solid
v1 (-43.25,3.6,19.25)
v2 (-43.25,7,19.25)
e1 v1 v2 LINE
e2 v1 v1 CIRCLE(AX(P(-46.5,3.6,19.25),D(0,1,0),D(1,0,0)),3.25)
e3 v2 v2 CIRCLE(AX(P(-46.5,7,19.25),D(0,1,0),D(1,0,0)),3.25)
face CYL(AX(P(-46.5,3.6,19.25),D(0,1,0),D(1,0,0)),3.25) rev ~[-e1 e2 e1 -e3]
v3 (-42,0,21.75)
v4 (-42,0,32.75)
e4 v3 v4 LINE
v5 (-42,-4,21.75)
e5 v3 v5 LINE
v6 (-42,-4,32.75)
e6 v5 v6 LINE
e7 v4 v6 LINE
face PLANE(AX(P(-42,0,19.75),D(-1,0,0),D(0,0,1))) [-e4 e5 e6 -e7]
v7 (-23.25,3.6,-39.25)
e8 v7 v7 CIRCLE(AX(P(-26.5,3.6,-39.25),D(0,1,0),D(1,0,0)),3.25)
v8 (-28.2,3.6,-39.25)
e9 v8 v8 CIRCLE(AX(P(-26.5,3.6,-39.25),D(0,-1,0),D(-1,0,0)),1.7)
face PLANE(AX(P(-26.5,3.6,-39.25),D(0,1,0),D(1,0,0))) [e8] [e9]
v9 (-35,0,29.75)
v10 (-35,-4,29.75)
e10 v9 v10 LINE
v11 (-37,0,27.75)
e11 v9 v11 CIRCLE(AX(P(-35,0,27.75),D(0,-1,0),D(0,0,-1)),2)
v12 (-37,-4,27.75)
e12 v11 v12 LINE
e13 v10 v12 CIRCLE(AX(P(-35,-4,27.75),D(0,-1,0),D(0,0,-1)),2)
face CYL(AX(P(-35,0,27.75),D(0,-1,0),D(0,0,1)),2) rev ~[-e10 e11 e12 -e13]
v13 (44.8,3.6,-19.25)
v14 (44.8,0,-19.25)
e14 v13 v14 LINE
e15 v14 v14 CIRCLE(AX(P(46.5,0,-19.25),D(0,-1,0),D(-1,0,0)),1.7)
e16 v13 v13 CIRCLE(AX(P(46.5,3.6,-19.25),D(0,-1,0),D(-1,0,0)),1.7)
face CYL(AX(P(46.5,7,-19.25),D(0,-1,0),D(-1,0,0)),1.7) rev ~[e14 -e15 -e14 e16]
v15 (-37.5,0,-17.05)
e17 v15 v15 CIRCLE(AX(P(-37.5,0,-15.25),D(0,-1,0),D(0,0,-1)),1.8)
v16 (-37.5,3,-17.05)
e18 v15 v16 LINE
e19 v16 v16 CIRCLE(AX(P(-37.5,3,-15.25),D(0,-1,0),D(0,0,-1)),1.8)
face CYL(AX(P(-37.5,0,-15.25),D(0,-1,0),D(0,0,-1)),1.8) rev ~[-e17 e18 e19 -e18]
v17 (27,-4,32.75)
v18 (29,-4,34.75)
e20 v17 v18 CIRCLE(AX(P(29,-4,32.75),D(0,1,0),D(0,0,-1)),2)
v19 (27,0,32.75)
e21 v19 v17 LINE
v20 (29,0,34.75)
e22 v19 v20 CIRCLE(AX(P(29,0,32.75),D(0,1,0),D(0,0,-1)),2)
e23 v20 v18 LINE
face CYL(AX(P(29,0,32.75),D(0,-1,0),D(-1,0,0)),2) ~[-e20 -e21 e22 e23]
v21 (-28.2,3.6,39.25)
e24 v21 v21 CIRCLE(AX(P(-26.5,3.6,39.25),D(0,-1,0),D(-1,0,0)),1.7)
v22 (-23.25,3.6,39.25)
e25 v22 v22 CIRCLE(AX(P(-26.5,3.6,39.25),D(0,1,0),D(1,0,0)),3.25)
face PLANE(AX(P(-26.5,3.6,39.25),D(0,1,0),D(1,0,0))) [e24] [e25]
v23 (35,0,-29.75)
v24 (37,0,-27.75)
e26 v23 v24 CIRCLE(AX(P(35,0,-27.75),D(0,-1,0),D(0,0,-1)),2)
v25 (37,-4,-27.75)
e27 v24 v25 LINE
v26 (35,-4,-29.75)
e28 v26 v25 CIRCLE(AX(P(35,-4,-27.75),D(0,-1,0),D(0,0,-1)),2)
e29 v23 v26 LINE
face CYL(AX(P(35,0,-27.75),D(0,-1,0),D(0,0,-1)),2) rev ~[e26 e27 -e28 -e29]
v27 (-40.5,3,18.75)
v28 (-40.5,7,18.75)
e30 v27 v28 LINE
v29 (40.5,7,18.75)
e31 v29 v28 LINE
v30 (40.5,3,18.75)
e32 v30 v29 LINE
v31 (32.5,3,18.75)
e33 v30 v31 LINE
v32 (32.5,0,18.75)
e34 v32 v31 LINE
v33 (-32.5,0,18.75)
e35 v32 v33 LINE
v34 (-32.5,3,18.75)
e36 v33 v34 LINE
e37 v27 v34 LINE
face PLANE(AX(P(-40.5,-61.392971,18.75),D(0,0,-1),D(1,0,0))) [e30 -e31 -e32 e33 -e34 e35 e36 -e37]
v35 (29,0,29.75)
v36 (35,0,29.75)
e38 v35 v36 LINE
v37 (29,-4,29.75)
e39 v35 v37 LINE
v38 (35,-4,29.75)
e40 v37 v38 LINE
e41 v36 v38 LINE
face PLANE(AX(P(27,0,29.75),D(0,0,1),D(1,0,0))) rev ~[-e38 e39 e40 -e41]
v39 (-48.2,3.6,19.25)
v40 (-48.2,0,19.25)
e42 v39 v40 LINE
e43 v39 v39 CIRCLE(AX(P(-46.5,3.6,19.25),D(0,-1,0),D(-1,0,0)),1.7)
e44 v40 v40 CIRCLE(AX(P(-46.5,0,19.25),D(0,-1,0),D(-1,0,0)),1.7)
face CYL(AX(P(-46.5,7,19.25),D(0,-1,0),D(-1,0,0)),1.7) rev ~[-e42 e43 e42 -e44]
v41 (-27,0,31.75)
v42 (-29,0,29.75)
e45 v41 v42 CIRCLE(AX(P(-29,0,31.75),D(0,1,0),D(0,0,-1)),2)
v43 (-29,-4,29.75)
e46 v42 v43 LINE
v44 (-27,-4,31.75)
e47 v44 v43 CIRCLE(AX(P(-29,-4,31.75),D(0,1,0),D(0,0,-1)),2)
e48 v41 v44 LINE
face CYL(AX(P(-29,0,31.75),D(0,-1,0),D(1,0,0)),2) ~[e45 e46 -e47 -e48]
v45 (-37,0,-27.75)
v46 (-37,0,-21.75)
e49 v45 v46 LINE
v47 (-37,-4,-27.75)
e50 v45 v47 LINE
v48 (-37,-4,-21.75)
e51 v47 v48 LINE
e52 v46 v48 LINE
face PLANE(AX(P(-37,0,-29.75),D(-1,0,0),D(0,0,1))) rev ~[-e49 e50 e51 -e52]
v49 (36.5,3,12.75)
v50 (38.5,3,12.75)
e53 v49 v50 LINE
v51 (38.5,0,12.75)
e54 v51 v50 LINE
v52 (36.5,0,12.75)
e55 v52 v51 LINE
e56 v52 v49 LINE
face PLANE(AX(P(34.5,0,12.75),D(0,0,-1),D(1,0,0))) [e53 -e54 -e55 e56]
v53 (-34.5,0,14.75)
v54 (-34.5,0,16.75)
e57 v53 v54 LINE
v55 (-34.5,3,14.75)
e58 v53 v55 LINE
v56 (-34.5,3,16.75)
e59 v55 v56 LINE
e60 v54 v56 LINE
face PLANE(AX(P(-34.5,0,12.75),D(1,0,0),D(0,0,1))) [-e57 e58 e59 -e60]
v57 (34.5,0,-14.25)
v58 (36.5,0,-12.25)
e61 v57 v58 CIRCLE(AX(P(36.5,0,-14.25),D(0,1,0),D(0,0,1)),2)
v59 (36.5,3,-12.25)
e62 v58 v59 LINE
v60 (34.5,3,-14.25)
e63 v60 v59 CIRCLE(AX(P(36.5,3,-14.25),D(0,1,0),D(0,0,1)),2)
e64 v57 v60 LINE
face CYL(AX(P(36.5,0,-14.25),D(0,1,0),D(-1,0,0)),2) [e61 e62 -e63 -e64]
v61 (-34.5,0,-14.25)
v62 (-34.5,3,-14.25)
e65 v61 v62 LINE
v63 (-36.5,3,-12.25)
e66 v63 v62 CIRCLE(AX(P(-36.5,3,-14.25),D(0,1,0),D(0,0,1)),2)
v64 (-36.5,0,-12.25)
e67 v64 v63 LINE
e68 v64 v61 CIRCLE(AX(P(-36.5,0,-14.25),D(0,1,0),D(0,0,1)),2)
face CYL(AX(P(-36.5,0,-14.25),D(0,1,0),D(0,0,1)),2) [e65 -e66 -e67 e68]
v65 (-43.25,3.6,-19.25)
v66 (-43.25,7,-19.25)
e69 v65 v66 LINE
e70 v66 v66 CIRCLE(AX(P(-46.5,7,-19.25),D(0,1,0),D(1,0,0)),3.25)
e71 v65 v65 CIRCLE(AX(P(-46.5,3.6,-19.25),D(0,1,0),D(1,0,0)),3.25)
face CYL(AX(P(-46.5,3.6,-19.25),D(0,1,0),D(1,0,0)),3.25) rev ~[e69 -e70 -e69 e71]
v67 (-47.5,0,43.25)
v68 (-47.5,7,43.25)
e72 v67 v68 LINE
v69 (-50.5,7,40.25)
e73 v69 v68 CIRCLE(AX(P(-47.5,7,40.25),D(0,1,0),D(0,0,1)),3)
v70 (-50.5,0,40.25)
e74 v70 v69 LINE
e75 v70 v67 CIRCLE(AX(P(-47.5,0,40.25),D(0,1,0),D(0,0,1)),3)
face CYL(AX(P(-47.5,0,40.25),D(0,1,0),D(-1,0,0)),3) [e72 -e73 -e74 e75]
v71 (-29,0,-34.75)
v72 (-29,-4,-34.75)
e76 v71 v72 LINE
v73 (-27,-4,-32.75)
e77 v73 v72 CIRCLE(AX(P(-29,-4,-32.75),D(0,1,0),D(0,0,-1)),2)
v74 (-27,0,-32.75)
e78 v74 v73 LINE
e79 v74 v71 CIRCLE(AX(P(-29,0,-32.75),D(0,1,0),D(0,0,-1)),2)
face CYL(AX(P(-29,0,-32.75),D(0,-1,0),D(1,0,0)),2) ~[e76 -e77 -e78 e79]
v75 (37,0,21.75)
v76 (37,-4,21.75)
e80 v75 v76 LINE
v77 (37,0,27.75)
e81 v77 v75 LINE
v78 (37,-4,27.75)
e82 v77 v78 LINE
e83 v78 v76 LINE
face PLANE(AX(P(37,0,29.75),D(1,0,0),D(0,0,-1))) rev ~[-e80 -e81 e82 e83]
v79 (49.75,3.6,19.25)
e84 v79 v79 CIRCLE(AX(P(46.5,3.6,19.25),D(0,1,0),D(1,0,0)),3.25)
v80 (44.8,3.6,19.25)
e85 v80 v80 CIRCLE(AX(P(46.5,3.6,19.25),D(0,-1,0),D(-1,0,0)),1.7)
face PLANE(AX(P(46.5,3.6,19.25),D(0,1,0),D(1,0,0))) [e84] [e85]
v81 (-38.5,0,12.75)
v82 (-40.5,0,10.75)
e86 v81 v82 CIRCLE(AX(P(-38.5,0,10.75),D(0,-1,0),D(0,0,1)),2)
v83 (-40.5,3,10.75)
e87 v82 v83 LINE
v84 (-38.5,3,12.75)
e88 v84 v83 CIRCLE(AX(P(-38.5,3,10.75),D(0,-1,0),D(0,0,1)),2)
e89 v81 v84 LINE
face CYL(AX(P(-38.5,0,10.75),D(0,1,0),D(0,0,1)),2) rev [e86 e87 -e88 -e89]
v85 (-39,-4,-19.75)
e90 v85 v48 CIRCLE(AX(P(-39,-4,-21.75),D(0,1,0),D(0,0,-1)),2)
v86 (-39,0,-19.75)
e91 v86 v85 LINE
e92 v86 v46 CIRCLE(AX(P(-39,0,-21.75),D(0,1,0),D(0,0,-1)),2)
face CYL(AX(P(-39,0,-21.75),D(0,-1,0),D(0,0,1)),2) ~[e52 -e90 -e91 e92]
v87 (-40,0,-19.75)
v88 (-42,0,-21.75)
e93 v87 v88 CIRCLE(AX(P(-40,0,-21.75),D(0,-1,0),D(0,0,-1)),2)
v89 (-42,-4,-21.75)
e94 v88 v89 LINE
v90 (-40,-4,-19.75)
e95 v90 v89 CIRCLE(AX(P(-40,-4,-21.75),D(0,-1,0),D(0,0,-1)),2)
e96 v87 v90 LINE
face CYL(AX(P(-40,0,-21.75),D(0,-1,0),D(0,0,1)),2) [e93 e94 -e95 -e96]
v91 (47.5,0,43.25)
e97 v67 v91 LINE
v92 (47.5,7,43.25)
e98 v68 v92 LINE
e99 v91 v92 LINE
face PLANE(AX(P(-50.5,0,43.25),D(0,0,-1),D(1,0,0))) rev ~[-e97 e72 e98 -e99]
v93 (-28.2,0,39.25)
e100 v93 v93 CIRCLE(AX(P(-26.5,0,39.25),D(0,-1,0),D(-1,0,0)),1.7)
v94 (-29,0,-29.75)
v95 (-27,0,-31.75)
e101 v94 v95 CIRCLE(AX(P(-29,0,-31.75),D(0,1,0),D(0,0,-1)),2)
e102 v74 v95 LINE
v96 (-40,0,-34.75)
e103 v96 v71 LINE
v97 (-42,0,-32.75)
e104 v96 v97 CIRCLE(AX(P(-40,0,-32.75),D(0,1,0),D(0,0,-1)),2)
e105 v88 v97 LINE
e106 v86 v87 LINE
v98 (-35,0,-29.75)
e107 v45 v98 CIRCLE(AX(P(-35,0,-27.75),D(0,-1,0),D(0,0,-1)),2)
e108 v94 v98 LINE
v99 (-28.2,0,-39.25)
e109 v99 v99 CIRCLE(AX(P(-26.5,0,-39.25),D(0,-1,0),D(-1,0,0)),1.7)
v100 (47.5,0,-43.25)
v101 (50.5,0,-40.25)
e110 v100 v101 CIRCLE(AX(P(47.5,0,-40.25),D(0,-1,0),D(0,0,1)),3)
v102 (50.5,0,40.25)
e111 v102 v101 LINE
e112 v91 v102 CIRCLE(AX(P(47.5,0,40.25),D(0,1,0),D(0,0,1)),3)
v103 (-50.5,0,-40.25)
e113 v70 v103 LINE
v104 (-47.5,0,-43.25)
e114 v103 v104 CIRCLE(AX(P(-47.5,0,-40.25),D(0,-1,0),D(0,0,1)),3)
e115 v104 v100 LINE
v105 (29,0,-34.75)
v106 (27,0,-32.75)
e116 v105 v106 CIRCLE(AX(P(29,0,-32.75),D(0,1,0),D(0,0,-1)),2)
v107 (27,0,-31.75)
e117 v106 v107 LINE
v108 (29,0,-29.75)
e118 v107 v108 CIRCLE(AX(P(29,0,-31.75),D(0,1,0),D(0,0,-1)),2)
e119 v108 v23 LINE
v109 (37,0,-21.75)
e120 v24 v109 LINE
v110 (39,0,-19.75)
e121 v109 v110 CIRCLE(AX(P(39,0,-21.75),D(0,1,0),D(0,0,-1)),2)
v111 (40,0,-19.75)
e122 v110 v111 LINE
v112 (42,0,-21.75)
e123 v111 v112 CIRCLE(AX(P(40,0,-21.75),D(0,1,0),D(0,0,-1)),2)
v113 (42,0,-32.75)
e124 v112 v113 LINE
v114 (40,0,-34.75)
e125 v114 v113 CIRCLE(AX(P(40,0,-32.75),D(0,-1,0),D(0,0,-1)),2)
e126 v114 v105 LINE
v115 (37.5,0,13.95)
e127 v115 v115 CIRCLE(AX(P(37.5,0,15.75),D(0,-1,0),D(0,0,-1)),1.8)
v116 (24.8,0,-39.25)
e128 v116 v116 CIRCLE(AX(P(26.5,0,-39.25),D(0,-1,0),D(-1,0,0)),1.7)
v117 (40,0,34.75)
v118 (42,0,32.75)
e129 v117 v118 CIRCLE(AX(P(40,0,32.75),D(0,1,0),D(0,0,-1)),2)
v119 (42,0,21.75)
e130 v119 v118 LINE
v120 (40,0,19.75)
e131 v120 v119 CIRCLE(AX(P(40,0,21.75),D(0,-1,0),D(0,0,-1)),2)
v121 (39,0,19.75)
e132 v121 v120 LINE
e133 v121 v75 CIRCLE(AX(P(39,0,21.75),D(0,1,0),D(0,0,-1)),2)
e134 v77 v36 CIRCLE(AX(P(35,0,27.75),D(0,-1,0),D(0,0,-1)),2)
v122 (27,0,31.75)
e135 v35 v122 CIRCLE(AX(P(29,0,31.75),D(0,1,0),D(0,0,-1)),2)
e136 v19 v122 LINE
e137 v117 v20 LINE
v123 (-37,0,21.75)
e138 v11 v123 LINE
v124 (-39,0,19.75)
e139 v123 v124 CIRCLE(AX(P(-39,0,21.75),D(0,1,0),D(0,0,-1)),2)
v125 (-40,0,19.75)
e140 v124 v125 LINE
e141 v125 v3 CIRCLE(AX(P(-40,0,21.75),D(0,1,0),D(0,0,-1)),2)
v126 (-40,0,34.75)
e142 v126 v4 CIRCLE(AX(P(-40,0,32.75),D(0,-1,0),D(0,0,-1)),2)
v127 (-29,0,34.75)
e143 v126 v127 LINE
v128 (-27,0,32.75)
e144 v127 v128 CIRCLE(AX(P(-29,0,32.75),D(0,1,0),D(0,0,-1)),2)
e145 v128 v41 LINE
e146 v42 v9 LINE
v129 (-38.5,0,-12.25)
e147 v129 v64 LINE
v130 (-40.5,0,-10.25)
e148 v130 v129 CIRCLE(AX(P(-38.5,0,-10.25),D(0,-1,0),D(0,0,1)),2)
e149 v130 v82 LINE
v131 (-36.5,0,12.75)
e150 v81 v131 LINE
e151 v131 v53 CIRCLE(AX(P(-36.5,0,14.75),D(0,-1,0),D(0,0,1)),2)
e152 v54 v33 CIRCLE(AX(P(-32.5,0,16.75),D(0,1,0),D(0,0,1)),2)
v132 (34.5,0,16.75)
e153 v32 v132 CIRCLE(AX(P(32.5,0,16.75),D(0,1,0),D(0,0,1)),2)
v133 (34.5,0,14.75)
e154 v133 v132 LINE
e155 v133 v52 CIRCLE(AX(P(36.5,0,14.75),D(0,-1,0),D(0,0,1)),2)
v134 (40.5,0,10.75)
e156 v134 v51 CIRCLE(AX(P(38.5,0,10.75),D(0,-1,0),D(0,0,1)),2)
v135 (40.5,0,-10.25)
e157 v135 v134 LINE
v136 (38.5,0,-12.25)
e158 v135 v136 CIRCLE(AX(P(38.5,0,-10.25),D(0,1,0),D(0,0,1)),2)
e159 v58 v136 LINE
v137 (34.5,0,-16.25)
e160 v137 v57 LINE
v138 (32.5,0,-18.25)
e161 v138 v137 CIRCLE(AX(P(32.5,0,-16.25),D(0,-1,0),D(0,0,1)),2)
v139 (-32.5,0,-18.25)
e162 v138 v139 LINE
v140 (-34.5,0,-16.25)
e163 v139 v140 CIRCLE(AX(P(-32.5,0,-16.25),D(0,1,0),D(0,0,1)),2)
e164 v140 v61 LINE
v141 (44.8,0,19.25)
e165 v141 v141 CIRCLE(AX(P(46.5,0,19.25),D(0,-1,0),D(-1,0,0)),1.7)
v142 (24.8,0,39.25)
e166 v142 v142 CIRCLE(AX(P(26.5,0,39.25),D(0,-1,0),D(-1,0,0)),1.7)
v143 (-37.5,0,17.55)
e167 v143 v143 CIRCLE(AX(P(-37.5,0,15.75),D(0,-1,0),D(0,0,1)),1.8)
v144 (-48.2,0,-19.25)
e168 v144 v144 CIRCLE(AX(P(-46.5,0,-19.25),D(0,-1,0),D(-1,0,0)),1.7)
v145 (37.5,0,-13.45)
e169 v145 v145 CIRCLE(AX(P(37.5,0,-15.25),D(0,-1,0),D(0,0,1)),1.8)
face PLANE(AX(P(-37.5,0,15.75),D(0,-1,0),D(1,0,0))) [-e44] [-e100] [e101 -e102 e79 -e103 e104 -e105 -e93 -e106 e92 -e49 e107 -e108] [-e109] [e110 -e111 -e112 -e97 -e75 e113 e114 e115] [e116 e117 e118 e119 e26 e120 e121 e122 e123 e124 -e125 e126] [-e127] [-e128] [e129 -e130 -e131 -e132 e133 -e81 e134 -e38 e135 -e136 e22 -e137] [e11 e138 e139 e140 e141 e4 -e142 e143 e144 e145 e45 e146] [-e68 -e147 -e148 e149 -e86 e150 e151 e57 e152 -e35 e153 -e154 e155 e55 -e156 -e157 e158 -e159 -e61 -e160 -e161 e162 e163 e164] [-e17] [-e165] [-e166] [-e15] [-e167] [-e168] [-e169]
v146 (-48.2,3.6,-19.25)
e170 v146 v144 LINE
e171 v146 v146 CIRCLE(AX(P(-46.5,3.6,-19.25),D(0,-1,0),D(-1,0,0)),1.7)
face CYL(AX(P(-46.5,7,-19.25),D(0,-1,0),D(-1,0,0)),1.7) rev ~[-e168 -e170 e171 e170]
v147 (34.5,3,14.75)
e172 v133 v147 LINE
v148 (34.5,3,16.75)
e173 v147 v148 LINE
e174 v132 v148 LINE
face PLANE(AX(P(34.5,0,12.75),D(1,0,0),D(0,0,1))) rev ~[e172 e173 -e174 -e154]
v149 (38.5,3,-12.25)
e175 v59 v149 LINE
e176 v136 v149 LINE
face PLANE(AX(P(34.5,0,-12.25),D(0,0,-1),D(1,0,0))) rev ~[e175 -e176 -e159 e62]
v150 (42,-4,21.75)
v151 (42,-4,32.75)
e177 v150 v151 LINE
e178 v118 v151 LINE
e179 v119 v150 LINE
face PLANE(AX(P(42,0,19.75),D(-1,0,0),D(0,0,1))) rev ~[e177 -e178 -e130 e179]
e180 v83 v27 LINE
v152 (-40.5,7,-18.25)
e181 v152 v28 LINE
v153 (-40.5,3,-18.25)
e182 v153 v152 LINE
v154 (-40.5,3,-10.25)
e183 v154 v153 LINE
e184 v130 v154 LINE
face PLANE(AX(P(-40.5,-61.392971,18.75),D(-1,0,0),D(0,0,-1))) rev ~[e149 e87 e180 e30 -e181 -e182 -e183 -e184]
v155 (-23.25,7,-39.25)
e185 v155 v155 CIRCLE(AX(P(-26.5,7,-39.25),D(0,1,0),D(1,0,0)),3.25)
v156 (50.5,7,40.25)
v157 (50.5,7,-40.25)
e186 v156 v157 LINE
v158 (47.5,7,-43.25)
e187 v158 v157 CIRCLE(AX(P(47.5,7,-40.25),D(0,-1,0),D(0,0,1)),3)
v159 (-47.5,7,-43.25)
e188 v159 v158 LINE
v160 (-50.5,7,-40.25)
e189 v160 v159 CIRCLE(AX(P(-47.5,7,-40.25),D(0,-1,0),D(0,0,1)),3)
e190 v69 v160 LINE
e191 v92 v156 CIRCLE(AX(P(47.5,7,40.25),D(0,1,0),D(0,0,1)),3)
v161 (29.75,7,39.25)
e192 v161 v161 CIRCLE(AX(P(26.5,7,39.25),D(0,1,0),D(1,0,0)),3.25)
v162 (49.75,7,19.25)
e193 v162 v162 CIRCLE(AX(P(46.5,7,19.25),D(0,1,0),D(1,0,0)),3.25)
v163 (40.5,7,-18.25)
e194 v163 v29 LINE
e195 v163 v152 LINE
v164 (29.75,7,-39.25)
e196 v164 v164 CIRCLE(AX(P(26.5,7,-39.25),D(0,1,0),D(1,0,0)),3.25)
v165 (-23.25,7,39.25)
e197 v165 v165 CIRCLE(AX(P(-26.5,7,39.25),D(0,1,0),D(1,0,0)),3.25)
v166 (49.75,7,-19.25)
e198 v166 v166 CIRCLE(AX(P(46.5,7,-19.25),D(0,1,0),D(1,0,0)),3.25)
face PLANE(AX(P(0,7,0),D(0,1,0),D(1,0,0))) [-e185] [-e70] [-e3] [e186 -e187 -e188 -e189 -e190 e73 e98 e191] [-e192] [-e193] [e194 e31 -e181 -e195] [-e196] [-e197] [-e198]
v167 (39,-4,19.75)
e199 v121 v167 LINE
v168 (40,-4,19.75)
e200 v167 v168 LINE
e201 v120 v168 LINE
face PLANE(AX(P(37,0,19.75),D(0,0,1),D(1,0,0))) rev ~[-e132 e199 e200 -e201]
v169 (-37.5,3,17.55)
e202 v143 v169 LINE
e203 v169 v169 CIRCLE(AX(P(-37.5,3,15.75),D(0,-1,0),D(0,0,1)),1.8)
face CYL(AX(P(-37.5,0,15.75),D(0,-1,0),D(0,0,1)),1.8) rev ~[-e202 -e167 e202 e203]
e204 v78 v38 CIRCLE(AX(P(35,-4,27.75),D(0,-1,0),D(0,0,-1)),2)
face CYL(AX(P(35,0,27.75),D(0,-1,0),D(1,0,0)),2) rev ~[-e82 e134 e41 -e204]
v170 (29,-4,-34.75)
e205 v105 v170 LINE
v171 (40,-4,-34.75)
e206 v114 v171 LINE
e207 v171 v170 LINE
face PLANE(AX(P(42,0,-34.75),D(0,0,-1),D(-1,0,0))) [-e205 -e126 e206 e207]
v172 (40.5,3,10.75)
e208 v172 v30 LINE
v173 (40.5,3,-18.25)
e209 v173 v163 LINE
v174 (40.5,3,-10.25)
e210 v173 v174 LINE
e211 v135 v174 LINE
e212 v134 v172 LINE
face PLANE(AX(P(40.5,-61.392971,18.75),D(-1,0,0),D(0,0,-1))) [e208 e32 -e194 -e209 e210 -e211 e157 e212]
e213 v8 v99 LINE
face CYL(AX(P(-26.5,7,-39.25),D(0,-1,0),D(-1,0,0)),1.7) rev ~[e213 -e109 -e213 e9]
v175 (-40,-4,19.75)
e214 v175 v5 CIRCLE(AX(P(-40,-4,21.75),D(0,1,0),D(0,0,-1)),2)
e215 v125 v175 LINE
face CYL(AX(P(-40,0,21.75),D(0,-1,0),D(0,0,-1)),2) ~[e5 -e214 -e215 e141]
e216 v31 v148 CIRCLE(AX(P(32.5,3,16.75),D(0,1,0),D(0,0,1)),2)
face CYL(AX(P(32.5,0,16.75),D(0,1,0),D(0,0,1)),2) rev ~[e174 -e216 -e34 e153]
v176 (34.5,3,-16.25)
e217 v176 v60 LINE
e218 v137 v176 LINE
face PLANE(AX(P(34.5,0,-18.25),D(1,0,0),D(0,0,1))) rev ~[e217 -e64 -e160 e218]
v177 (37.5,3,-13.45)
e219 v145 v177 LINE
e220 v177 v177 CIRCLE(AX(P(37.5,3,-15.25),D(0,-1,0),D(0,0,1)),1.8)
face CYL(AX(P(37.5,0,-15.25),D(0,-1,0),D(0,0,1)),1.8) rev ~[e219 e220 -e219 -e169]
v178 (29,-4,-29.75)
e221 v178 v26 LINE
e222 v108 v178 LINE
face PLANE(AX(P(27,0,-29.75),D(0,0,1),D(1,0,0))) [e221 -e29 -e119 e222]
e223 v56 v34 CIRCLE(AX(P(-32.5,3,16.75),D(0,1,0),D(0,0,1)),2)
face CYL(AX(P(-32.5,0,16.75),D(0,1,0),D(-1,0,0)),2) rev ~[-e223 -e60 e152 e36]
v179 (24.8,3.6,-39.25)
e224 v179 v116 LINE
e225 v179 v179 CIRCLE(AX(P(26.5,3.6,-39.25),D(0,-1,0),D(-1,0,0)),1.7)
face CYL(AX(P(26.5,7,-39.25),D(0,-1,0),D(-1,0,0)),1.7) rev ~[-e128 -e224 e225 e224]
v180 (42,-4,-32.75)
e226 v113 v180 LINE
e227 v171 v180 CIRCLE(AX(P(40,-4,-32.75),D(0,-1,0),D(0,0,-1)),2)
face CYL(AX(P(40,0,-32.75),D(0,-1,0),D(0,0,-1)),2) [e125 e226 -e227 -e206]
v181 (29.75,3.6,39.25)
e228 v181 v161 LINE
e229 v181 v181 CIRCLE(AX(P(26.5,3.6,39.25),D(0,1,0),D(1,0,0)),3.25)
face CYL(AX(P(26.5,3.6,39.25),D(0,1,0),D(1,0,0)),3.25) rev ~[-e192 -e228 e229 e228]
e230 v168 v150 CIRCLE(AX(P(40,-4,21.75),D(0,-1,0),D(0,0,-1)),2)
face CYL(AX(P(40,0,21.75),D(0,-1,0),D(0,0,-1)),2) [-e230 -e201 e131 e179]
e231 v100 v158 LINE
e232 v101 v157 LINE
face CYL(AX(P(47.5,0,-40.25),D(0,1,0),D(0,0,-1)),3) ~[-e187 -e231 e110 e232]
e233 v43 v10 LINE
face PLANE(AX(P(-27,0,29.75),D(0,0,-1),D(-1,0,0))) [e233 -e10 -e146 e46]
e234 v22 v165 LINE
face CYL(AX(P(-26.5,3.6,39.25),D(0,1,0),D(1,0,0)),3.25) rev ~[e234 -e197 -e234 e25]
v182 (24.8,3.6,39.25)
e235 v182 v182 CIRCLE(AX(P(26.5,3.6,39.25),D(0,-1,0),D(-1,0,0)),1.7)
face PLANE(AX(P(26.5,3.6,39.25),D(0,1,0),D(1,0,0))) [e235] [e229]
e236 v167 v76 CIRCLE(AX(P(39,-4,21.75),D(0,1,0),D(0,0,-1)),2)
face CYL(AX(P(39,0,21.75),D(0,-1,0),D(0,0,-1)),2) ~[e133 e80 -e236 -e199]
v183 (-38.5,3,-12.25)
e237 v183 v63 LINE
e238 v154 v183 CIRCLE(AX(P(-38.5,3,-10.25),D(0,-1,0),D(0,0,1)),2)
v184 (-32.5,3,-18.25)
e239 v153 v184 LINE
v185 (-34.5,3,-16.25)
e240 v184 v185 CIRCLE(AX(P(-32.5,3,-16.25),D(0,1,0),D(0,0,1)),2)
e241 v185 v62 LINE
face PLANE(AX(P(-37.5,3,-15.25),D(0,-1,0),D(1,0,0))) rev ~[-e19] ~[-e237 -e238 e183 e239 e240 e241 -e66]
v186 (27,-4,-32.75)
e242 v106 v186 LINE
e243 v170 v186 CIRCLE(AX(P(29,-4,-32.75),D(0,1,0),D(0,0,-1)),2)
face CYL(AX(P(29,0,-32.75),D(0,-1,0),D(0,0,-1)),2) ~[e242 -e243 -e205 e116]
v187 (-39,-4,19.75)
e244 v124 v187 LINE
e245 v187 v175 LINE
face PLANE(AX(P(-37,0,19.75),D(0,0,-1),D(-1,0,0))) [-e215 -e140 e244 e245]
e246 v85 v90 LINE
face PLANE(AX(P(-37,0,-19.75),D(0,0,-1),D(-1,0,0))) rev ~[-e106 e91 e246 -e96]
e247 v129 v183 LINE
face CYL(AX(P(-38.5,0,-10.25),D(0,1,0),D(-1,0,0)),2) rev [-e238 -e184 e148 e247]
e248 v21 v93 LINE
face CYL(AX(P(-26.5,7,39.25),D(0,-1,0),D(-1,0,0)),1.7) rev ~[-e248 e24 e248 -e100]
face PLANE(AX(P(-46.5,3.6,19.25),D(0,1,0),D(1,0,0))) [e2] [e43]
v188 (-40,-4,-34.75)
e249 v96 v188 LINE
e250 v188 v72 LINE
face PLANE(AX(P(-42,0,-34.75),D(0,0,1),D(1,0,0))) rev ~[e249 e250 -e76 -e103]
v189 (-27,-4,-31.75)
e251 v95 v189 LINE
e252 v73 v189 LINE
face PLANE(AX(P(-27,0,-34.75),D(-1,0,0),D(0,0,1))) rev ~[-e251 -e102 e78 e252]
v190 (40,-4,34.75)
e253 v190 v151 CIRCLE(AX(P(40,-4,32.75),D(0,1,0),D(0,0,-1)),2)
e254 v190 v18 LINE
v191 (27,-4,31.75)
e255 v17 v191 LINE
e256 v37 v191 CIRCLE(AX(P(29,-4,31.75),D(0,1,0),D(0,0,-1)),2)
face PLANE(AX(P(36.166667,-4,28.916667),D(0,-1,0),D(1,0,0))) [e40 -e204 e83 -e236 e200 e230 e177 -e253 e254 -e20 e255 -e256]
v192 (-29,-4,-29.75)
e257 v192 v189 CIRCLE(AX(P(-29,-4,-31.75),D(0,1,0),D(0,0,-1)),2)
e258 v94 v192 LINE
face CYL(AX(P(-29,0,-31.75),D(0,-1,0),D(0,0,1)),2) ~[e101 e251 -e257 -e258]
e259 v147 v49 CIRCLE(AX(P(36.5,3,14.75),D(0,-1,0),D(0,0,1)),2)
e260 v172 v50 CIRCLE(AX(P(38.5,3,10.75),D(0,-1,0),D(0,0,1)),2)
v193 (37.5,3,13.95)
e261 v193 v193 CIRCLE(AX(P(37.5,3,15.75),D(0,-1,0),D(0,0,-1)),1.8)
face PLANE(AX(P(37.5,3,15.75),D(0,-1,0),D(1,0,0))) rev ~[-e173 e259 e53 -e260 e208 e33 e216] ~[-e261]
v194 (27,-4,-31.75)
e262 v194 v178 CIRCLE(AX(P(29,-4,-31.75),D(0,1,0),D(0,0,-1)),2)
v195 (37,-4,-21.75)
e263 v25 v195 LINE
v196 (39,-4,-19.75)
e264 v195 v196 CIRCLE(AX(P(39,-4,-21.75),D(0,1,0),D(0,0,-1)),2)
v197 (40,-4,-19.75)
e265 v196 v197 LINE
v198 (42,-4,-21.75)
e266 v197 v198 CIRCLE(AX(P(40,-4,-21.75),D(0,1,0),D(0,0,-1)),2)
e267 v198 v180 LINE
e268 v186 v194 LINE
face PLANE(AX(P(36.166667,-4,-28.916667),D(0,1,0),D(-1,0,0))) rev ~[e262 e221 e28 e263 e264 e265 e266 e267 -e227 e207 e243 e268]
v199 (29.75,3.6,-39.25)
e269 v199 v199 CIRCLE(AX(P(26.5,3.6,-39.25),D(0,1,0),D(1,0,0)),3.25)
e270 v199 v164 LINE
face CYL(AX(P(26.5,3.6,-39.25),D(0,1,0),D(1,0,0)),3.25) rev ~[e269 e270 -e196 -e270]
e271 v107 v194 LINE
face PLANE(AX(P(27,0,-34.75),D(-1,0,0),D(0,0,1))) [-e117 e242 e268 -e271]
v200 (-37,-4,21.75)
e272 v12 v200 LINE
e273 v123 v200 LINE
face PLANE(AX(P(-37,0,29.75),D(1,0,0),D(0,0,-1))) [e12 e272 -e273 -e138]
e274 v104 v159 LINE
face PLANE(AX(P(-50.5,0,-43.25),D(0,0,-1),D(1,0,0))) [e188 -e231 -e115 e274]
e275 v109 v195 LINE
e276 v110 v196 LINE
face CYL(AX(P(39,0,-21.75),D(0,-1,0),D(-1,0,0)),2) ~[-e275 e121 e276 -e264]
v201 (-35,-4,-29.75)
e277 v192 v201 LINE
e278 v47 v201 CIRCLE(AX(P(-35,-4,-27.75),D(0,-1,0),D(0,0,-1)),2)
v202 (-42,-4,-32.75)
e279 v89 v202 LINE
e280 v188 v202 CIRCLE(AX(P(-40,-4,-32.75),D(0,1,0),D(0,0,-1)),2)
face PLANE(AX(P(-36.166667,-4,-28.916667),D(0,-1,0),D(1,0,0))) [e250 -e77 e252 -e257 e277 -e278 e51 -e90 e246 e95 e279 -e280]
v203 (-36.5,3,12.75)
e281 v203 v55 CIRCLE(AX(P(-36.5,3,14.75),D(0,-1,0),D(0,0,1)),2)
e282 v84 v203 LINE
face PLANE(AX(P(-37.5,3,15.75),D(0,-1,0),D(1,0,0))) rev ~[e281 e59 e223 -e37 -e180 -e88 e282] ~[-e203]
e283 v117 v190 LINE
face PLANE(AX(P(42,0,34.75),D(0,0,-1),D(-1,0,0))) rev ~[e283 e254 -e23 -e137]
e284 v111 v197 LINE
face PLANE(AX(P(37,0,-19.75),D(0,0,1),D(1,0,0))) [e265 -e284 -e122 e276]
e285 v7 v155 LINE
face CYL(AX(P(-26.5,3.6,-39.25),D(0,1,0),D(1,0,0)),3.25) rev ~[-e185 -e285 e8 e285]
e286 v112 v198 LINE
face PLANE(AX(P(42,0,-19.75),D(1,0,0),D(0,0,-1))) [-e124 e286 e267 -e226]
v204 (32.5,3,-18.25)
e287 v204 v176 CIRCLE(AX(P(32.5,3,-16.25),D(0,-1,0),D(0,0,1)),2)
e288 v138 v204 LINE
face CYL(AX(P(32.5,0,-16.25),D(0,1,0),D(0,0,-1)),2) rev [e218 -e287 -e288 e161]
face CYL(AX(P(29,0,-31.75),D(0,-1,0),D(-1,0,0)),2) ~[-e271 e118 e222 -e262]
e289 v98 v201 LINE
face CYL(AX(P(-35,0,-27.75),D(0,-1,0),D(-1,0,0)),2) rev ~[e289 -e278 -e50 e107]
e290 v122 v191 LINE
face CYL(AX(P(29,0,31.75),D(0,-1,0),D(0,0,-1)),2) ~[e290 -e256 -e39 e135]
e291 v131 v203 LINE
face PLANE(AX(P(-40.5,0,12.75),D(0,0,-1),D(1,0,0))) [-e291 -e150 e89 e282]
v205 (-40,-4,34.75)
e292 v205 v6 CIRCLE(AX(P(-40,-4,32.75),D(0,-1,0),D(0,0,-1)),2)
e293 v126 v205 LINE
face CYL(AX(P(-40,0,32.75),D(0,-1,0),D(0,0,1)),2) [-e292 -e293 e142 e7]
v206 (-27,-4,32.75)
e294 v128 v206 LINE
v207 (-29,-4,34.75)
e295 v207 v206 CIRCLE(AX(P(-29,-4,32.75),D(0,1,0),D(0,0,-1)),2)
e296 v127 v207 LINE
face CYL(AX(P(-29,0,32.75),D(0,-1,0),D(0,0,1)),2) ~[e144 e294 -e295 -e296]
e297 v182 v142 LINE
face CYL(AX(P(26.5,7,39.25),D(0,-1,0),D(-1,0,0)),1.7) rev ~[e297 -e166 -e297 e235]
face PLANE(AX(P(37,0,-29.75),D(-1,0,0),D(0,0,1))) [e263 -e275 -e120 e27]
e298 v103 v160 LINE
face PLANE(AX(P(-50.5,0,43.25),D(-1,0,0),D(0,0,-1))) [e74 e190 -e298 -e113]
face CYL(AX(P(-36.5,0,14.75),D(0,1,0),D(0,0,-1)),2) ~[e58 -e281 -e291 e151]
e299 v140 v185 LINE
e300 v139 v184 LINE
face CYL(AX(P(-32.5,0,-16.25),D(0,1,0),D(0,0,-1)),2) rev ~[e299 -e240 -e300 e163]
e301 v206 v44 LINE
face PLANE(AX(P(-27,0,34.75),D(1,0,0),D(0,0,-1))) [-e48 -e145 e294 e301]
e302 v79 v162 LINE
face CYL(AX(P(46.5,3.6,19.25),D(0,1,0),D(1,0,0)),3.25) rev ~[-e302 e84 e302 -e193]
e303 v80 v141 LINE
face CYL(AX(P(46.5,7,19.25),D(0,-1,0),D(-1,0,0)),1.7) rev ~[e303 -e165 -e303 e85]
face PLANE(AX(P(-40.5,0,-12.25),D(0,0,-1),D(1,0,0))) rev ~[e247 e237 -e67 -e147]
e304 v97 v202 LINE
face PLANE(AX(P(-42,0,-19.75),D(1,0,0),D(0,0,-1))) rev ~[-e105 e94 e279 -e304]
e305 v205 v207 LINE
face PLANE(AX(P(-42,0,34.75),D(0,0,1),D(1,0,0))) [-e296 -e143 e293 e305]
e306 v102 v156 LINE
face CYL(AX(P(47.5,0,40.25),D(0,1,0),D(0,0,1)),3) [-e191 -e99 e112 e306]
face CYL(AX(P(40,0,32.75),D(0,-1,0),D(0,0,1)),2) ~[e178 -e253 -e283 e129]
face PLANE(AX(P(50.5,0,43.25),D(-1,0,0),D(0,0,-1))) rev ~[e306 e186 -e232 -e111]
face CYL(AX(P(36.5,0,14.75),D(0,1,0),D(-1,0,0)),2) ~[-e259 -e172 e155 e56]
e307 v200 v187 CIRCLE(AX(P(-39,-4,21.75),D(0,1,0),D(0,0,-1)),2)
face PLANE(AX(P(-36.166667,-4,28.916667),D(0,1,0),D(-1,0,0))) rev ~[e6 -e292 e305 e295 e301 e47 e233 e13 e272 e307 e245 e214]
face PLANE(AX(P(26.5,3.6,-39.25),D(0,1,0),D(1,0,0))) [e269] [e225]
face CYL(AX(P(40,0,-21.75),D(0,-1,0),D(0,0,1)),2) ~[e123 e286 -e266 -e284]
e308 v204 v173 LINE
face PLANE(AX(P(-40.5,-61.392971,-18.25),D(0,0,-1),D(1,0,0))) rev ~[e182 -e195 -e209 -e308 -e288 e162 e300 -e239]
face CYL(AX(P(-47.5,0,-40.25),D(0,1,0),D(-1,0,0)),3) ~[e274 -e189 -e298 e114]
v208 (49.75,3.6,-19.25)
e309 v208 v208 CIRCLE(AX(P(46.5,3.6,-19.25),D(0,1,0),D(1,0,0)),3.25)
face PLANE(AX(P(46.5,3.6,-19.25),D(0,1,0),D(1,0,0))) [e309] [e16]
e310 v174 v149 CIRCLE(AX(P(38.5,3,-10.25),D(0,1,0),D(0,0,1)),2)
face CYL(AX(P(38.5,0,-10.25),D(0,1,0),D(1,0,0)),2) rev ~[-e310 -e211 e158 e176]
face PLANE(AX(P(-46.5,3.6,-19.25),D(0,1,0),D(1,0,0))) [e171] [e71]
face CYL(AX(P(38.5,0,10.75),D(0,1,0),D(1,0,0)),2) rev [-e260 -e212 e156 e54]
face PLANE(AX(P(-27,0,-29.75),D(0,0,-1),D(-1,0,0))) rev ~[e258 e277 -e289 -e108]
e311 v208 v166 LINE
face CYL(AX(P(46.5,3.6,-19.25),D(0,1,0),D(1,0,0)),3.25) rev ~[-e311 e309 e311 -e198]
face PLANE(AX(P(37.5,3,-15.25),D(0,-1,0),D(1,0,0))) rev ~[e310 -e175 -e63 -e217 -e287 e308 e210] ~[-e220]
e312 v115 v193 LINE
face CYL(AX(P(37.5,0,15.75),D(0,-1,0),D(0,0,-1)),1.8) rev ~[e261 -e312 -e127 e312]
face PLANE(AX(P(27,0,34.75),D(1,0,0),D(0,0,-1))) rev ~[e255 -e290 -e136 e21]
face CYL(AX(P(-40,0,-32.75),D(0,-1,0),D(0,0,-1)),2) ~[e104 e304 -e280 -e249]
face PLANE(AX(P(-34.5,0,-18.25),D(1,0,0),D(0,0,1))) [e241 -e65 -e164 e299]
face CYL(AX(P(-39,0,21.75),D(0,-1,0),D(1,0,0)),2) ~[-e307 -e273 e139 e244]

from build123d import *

# Parameters (mm, degrees)
SKETCH1_W                                           = 101
SKETCH1_H                                           = 86.5
BOSS_EXTRUDE1_DEPTH                                 = 7
CBORE_FOR_M3_HEX_SOCKET_HEAD_CAP_SCREW1_D           = 3.4
CBORE_FOR_M3_HEX_SOCKET_HEAD_CAP_SCREW1_CBORE_D     = 6.5
CBORE_FOR_M3_HEX_SOCKET_HEAD_CAP_SCREW1_CBORE_DEPTH = 3.4
BOSS_EXTRUDE2_DEPTH                                 = 4
FILLET1_R                                           = 2
FILLET2_R                                           = 3
CUT_EXTRUDE2_DEPTH                                  = 68.392970702
CUT_EXTRUDE2_DEPTH_BACK                             = 68.392970702
SKETCH11_W                                          = 81
SKETCH11_H                                          = 37
SKETCH13_W                                          = 6
SKETCH13_H                                          = 6
SKETCH13_R                                          = 1.8
BOSS_EXTRUDE3_DEPTH                                 = 3
FILLET3_R                                           = 2


with BuildPart() as part:
    # Sketch1 → Boss-Extrude1 (new body)
    with BuildSketch(Plane(origin=(0, 0, 0), x_dir=(1, 0, 0), z_dir=(0, 1, 0))):
        Rectangle(SKETCH1_W, SKETCH1_H)
    extrude(amount=BOSS_EXTRUDE1_DEPTH)

    # CBORE for M3 Hex Socket Head Cap Screw1 (through all)
    with Locations(Plane(origin=(0, 7, 0), x_dir=(1, 0, 0), z_dir=(0, 1, 0))):
        with Locations((26.5, 39.25), (46.5, 19.25), (46.5, -19.25), (26.5, -39.25), (-26.5, -39.25), (-46.5, -19.25), (-46.5, 19.25), (-26.5, 39.25)):
            CounterBoreHole(CBORE_FOR_M3_HEX_SOCKET_HEAD_CAP_SCREW1_D / 2, CBORE_FOR_M3_HEX_SOCKET_HEAD_CAP_SCREW1_CBORE_D / 2, CBORE_FOR_M3_HEX_SOCKET_HEAD_CAP_SCREW1_CBORE_DEPTH)

    # Sketch8 → Boss-Extrude2 (add)
    with BuildSketch(Plane.XZ):
        Polygon((42, -34.75), (27, -34.75), (27, -29.75), (37, -29.75), (37, -19.75), (42, -19.75), align=None)
        Polygon((-42, -19.75), (-42, -34.75), (-27, -34.75), (-27, -29.75), (-37, -29.75), (-37, -19.75), align=None)
        Polygon((-42, 34.75), (-27, 34.75), (-27, 29.75), (-37, 29.75), (-37, 19.75), (-42, 19.75), align=None)
        Polygon((42, 19.75), (42, 34.75), (27, 34.75), (27, 29.75), (37, 29.75), (37, 19.75), align=None)
    extrude(amount=BOSS_EXTRUDE2_DEPTH)

    # Fillet1
    fillet1_edges = [part.edges().sort_by_distance(p)[0] for p in [
        (42, -2, 34.75),
        (27, -2, 34.75),
        (27, -2, 29.75),
        (37, -2, 29.75),
        (37, -2, 19.75),
        (42, -2, 19.75),
        (-42, -2, -34.75),
        (-27, -2, -34.75),
        (-27, -2, -29.75),
        (-37, -2, -29.75),
        (-37, -2, -19.75),
        (-42, -2, -19.75),
        (-37, -2, 19.75),
        (-37, -2, 29.75),
        (-27, -2, 29.75),
        (-27, -2, 34.75),
        (-42, -2, 34.75),
        (-42, -2, 19.75),
        (42, -2, -34.75),
        (42, -2, -19.75),
        (37, -2, -19.75),
        (37, -2, -29.75),
        (27, -2, -29.75),
        (27, -2, -34.75),
    ]]
    fillet(fillet1_edges, radius=FILLET1_R)

    # Fillet2
    fillet2_edges = [part.edges().sort_by_distance(p)[0] for p in [
        (50.5, 3.5, 43.25),
        (-50.5, 3.5, 43.25),
        (-50.5, 3.5, -43.25),
        (50.5, 3.5, -43.25),
    ]]
    fillet(fillet2_edges, radius=FILLET2_R)

    # Sketch11 → Cut-Extrude2 (cut, two sides: drawn at the far end of the back side and taken through both)
    with BuildSketch(Plane(origin=(0, 7, 0), x_dir=(1, 0, 0), z_dir=(0, 1, 0)).offset(-CUT_EXTRUDE2_DEPTH_BACK)):
        with Locations((0, -0.25)):
            Rectangle(SKETCH11_W, SKETCH11_H)
    extrude(amount=CUT_EXTRUDE2_DEPTH + CUT_EXTRUDE2_DEPTH_BACK, mode=Mode.SUBTRACT)

    # Sketch13 → Boss-Extrude3 (add)
    # profile 1 of 4: a face of its own
    with BuildSketch(Plane.XZ):
        with Locations((-37.5, 15.75)):
            Rectangle(SKETCH13_W, SKETCH13_H)
        with Locations(Location((-37.5, 15.75, 0), (0, 0, 90))):
            Circle(SKETCH13_R, mode=Mode.SUBTRACT)
    # profile 2 of 4: a face of its own
    with BuildSketch(Plane.XZ):
        with Locations((-37.5, -15.25)):
            Rectangle(SKETCH13_W, SKETCH13_H)
        with Locations(Location((-37.5, -15.25, 0), (0, 0, 270))):
            Circle(SKETCH13_R, mode=Mode.SUBTRACT)
    # profile 3 of 4: a face of its own
    with BuildSketch(Plane.XZ):
        with Locations((37.5, 15.75)):
            Rectangle(SKETCH13_W, SKETCH13_H)
        with Locations(Location((37.5, 15.75, 0), (0, 0, 270))):
            Circle(SKETCH13_R, mode=Mode.SUBTRACT)
    # profile 4 of 4: a face of its own
    with BuildSketch(Plane.XZ):
        with Locations((37.5, -15.25)):
            Rectangle(SKETCH13_W, SKETCH13_H)
        with Locations(Location((37.5, -15.25, 0), (0, 0, 90))):
            Circle(SKETCH13_R, mode=Mode.SUBTRACT)
    extrude(amount=-BOSS_EXTRUDE3_DEPTH)

    # Fillet3
    fillet3_edges = [part.edges().sort_by_distance(p)[0] for p in [
        (-40.5, 1.5, -12.25),
        (-34.5, 1.5, -12.25),
        (-34.5, 1.5, -18.25),
        (-34.5, 1.5, 18.75),
        (-34.5, 1.5, 12.75),
        (-40.5, 1.5, 12.75),
        (40.5, 1.5, 12.75),
        (34.5, 1.5, 12.75),
        (34.5, 1.5, 18.75),
        (34.5, 1.5, -18.25),
        (34.5, 1.5, -12.25),
        (40.5, 1.5, -12.25),
    ]]
    fillet(fillet3_edges, radius=FILLET3_R)


solid = part.part
